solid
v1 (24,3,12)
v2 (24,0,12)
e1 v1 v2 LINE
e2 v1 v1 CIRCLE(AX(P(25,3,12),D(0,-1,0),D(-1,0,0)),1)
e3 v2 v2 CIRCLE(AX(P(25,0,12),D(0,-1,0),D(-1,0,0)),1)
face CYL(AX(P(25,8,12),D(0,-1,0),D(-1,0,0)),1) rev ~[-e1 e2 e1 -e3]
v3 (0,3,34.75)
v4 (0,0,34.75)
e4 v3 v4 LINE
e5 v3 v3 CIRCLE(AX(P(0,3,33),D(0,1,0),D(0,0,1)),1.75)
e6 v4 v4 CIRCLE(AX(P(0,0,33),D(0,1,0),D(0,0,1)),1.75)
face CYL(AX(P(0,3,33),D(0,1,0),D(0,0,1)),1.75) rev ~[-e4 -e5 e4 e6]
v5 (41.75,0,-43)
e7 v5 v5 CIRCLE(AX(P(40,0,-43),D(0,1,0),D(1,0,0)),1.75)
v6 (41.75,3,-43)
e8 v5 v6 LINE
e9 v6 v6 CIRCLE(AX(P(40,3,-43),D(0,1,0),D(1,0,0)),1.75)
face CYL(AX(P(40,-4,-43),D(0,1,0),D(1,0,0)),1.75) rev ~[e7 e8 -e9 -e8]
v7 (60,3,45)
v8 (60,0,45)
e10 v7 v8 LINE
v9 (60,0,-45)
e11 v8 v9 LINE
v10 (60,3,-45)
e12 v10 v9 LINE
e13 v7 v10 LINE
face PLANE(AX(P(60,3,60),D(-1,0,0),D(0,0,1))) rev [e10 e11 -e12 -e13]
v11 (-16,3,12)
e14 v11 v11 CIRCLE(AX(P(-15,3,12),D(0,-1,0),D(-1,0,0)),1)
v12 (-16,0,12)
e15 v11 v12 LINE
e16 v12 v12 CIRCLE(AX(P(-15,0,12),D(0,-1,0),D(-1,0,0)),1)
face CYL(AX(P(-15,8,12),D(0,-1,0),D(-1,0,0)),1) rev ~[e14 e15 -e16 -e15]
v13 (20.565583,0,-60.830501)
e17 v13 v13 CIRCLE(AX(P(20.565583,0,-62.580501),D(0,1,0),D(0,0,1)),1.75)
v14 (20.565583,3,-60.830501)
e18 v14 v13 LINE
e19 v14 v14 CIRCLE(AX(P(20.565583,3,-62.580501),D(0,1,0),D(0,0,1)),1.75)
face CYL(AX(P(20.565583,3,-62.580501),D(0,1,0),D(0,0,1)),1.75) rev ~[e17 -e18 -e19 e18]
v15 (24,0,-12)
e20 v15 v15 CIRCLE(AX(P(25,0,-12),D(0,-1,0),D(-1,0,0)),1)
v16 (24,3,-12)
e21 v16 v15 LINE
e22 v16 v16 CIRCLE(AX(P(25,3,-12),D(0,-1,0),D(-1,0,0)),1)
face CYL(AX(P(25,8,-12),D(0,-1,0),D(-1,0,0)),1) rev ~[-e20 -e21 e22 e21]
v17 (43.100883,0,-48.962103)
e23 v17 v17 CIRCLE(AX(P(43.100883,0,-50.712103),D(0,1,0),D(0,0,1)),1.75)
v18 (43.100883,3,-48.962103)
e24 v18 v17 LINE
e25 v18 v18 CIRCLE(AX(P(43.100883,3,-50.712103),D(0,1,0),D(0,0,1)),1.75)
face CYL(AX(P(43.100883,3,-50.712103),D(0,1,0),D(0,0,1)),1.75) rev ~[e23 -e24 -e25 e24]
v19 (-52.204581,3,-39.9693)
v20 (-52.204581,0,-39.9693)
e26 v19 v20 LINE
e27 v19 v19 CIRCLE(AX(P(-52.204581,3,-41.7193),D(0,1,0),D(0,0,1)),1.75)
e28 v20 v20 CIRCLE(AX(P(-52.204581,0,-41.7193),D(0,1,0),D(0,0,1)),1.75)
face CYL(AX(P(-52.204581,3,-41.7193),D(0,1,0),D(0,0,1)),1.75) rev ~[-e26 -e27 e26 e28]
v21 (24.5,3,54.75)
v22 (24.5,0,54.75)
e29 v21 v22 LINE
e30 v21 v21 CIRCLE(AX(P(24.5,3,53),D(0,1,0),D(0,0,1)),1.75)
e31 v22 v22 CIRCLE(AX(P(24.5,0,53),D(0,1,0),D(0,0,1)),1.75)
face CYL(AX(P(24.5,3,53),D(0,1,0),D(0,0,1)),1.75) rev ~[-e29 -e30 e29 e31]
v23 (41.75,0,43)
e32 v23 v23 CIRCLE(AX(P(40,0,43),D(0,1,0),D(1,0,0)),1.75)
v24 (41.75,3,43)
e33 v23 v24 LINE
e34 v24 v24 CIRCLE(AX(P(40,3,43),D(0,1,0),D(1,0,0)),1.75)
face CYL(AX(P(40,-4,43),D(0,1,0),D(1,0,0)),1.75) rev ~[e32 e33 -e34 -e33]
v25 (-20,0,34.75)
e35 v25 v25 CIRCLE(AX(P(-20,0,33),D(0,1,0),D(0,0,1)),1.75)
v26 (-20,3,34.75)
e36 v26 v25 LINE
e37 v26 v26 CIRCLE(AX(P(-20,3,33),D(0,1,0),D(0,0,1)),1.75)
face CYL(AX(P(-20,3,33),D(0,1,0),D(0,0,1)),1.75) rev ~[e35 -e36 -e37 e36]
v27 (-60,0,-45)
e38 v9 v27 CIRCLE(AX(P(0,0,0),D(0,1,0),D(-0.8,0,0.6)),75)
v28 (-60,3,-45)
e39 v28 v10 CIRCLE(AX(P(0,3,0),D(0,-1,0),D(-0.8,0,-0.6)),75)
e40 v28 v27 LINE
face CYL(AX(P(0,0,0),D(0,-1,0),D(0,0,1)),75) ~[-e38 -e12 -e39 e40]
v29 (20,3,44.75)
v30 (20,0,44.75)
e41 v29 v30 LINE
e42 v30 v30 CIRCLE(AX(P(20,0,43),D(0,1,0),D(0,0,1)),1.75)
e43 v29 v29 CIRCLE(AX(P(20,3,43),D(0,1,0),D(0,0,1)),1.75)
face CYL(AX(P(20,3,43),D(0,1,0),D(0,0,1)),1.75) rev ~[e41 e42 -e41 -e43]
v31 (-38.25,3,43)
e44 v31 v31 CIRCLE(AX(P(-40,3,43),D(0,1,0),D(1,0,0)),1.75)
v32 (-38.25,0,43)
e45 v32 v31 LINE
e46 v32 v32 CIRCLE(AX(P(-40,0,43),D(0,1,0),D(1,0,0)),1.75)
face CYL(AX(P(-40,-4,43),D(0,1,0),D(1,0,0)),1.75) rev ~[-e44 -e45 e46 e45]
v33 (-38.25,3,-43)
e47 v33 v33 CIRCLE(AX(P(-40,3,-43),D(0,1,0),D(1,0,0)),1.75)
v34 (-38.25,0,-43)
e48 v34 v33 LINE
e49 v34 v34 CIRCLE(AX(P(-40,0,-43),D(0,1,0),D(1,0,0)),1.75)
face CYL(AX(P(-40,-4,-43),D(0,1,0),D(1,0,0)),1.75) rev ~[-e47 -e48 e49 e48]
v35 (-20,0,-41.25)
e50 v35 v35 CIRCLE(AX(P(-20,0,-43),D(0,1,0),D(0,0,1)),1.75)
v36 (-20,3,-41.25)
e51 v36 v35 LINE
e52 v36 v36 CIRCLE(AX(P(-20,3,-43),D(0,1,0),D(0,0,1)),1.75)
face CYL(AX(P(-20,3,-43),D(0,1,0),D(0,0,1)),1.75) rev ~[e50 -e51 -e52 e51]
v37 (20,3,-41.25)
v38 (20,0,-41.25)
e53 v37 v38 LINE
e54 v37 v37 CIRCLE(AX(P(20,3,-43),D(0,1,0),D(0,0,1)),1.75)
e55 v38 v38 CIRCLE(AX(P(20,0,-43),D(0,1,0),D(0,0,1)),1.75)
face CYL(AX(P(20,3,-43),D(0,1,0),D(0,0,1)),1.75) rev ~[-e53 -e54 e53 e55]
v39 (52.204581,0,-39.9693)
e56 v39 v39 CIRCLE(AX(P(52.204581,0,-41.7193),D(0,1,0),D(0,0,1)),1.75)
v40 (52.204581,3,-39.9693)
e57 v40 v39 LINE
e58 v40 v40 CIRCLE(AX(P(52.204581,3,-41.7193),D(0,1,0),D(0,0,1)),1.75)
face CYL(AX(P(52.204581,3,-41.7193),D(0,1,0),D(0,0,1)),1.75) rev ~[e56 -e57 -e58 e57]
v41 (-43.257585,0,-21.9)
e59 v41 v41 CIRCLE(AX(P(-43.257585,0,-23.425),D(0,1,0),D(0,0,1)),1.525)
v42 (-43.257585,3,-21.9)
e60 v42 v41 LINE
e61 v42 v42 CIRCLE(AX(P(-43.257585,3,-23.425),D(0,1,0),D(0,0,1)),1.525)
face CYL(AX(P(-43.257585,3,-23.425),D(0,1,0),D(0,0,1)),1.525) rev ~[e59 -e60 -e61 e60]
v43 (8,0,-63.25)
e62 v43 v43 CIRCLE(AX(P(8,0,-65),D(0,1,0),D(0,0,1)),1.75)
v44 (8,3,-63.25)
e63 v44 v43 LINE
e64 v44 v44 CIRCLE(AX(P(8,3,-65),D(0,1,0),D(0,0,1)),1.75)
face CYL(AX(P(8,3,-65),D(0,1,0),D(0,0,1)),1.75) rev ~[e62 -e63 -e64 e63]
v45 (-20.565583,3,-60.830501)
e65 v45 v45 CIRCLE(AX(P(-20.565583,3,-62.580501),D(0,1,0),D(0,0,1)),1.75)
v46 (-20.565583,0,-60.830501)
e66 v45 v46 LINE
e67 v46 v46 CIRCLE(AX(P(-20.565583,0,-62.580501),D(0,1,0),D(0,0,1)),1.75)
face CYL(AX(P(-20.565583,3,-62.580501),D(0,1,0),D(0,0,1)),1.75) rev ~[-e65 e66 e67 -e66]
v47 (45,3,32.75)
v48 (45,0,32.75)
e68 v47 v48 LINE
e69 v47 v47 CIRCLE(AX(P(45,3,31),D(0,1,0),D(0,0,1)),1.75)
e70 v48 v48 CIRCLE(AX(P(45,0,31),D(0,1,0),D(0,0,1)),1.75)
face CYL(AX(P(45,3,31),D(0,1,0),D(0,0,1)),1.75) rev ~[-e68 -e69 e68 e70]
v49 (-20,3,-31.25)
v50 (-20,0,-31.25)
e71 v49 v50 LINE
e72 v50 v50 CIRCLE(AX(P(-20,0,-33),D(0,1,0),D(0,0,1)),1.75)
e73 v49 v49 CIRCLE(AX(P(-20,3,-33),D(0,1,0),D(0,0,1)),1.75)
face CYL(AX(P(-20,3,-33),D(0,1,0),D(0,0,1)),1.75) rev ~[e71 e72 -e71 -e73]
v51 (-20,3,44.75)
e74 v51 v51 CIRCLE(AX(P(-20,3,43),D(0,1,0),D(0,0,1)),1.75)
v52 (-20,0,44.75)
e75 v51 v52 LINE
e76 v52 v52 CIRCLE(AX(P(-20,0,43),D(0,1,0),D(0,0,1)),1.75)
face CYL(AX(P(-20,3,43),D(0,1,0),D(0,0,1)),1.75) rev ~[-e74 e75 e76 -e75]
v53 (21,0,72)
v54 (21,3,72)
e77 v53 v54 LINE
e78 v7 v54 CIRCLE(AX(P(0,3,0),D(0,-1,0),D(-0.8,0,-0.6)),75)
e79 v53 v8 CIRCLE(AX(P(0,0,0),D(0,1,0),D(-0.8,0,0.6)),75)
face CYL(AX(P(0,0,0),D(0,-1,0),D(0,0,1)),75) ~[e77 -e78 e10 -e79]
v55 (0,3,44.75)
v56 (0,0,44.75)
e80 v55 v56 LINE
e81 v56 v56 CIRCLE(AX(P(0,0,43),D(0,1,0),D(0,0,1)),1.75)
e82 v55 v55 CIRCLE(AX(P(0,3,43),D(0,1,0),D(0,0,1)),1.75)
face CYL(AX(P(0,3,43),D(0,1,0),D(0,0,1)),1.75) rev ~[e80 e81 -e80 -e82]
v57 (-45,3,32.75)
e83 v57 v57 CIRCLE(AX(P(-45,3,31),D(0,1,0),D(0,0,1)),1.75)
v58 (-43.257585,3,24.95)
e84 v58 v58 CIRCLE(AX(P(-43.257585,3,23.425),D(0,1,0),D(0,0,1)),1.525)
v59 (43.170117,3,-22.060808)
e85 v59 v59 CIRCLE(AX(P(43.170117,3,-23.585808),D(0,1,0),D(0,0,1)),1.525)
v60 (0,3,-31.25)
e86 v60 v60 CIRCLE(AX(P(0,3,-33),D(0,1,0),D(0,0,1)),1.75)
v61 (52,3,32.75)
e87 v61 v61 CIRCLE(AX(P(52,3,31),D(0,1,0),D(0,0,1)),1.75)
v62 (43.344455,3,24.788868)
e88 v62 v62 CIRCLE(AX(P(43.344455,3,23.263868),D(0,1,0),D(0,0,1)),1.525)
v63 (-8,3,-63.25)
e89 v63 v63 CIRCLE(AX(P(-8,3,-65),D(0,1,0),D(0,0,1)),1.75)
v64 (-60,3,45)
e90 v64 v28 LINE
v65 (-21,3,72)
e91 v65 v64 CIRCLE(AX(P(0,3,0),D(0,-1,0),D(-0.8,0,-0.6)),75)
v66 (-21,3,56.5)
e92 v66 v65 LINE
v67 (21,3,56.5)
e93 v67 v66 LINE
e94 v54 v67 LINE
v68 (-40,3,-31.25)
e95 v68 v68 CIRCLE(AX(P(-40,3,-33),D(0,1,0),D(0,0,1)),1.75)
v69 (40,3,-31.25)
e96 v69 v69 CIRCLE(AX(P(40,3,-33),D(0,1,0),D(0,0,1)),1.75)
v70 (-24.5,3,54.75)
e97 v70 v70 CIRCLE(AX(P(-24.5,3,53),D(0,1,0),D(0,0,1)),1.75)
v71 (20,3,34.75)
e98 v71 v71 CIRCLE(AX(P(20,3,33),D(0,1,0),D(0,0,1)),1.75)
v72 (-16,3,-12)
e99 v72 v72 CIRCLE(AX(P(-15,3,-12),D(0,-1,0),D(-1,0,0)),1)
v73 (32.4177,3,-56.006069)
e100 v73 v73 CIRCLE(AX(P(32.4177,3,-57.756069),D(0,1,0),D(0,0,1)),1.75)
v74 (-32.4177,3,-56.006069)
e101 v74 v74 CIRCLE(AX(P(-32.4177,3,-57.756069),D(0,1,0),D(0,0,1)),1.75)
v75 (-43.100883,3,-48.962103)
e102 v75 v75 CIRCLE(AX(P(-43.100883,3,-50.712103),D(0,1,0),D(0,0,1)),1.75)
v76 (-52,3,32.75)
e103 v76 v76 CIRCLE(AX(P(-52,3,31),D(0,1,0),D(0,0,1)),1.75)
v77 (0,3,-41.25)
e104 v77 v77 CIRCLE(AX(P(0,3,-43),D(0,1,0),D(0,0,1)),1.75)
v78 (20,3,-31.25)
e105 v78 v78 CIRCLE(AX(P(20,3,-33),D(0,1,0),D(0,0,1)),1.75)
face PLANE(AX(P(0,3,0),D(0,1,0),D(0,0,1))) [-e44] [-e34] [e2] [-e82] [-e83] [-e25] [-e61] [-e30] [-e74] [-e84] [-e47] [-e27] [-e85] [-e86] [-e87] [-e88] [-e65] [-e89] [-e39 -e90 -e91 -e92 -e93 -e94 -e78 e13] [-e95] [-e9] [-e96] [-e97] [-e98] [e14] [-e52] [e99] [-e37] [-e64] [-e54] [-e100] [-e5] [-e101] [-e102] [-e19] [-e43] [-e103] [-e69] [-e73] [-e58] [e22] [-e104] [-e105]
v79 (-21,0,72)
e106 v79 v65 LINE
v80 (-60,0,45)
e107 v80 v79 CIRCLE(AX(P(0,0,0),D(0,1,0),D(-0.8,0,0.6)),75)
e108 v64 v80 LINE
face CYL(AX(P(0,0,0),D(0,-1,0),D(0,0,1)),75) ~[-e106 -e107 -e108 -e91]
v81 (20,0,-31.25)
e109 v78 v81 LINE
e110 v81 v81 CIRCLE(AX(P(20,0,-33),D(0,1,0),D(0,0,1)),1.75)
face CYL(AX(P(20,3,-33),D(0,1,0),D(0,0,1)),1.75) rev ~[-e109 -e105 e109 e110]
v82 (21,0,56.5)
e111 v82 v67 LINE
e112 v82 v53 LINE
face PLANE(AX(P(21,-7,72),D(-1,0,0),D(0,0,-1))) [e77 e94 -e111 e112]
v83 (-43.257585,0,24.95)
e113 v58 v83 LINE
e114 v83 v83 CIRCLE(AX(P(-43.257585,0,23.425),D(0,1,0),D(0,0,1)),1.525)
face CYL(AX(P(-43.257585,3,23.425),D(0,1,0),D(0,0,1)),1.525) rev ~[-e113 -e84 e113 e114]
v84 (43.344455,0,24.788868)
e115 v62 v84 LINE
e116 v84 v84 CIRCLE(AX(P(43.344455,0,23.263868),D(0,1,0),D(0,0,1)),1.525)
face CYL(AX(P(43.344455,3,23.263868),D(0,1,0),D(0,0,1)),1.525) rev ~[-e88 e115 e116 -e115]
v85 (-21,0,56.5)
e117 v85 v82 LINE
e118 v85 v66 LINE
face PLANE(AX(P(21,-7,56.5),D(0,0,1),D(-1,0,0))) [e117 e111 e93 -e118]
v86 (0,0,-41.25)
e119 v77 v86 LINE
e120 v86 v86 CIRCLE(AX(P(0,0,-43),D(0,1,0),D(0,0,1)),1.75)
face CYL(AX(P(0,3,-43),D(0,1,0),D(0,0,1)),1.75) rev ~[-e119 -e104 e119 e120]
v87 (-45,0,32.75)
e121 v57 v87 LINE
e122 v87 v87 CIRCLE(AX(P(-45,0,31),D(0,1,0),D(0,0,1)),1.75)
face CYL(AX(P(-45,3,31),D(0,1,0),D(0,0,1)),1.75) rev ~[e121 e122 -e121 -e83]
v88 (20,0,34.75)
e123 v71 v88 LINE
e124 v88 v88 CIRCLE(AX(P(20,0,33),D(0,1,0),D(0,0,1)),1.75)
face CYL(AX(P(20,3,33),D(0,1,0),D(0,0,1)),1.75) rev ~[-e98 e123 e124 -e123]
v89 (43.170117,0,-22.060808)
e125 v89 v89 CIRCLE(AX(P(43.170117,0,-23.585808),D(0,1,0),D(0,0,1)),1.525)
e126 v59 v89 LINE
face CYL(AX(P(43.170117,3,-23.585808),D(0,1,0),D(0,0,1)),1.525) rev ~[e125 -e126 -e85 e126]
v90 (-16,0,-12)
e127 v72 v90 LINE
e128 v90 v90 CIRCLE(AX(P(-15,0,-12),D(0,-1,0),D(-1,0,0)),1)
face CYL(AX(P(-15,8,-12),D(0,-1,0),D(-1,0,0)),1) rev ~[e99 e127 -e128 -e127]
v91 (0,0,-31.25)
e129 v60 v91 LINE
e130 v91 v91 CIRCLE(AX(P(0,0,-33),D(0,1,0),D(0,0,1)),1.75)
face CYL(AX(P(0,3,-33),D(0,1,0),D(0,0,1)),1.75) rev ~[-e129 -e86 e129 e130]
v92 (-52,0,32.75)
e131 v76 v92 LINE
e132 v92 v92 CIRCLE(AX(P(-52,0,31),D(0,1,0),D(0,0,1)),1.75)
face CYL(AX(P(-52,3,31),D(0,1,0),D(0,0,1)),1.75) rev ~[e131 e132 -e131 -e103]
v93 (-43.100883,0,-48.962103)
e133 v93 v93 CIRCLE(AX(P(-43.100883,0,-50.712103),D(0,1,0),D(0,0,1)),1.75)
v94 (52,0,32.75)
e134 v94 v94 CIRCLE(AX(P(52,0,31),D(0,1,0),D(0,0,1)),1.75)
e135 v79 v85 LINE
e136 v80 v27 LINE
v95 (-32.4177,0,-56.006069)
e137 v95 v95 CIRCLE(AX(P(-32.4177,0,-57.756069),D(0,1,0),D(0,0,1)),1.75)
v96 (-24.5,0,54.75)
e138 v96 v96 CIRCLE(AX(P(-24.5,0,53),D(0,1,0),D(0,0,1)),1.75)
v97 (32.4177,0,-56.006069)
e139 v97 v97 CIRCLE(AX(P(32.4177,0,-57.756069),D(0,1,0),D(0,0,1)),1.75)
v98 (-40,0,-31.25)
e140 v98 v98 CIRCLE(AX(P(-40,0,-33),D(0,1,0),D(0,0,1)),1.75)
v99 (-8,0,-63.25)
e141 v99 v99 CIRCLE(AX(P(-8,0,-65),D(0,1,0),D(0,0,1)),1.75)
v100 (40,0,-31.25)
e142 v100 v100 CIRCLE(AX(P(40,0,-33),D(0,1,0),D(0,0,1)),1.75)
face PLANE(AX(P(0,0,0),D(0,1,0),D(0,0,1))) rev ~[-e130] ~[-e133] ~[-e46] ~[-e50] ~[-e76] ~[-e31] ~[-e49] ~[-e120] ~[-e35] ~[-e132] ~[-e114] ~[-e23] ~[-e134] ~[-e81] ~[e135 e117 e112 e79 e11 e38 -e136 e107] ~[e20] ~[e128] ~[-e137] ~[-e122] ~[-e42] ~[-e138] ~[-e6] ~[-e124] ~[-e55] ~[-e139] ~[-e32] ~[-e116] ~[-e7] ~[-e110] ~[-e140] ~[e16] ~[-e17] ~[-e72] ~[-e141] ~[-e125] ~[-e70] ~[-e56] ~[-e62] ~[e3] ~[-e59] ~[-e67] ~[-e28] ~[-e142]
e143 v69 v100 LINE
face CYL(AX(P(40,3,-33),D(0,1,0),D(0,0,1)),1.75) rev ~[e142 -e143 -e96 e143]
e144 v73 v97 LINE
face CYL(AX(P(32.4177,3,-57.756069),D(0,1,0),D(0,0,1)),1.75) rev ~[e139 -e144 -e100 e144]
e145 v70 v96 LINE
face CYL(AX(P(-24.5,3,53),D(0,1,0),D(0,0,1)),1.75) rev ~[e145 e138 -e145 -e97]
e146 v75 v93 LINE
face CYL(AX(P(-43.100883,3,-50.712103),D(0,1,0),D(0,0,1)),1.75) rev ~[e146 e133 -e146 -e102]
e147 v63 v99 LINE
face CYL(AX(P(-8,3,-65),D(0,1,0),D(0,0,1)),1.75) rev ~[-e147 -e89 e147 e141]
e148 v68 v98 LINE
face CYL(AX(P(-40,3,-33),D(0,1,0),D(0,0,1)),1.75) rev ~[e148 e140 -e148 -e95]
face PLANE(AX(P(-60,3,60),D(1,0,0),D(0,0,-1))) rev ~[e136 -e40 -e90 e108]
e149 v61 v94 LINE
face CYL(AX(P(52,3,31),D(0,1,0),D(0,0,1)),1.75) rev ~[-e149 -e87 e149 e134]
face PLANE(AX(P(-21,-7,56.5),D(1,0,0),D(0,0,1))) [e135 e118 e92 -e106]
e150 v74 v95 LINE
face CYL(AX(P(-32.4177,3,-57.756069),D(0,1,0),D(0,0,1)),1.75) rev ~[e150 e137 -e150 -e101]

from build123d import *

# Parameters (mm, degrees)
SKETCH1_R                      = 75
BOSS_EXTRUDE1_DEPTH            = 3
SKETCH2_W                      = 19.192652792
SKETCH2_H                      = 120
CUT_EXTRUDE1_DEPTH             = 4
F_3_5_3_5_DIAMETER_HOLE1_D     = 3.5
F_3_5_3_5_DIAMETER_HOLE1_DEPTH = 4
F_3_5_3_5_DIAMETER_HOLE1_TIP   = 1.051506083
F_2_0_2_DIAMETER_HOLE1_D       = 2
F_2_0_2_DIAMETER_HOLE1_DEPTH   = 5
F_2_0_2_DIAMETER_HOLE1_TIP     = 0.600860619
CUT_EXTRUDE2_START             = -10
CUT_EXTRUDE2_DEPTH             = 10
SKETCH18_R                     = 1.525
CUT_EXTRUDE3_DEPTH             = 10
SKETCH19_R                     = 1.75
CUT_EXTRUDE4_DEPTH             = 10
CUT_EXTRUDE5_REACH             = 98.094
SKETCH21_R                     = 1.75


with BuildPart() as part:
    # Sketch1 → Boss-Extrude1 (new body)
    with BuildSketch(Plane(origin=(0, 0, 0), x_dir=(1, 0, 0), z_dir=(0, 1, 0))):
        with Locations(Location((0, 0, 0), (0, 0, 270))):
            Circle(SKETCH1_R)
    extrude(amount=BOSS_EXTRUDE1_DEPTH)

    # Sketch2 → Cut-Extrude1 (cut)
    with BuildSketch(Plane(origin=(0, 3, 0), x_dir=(1, 0, 0), z_dir=(0, 1, 0))):
        with Locations((-69.596326396, 0)):
            Rectangle(SKETCH2_W, SKETCH2_H)
    cut_extrude1 = extrude(amount=-CUT_EXTRUDE1_DEPTH, mode=Mode.SUBTRACT)

    # Mirror1: Cut-Extrude1 across plane
    add(cut_extrude1.mirror(Plane(origin=(0, 0, 0), x_dir=(0, 0, 1), z_dir=(1, 0, 0))), mode=Mode.SUBTRACT)

    # Ø3.5 (3.5) Diameter Hole1
    with Locations(Plane(origin=(0, 0, 0), x_dir=(-1, 0, 0), z_dir=(0, -1, 0))):
        with Locations((40, -43), (-40, -43), (-40, 43), (40, 43)):
            Hole(F_3_5_3_5_DIAMETER_HOLE1_D / 2, depth=F_3_5_3_5_DIAMETER_HOLE1_DEPTH)
            with Locations((0, 0, -(F_3_5_3_5_DIAMETER_HOLE1_DEPTH + F_3_5_3_5_DIAMETER_HOLE1_TIP / 2))):  # 118° drill point
                Cone(0, F_3_5_3_5_DIAMETER_HOLE1_D / 2, F_3_5_3_5_DIAMETER_HOLE1_TIP, mode=Mode.SUBTRACT)

    # Ø2.0 (2) Diameter Hole1
    with Locations(Plane(origin=(0, 3, 0), x_dir=(1, 0, 0), z_dir=(0, 1, 0))):
        with Locations((25, -12), (25, 12), (-15, 12), (-15, -12)):
            Hole(F_2_0_2_DIAMETER_HOLE1_D / 2, depth=F_2_0_2_DIAMETER_HOLE1_DEPTH)
            with Locations((0, 0, -(F_2_0_2_DIAMETER_HOLE1_DEPTH + F_2_0_2_DIAMETER_HOLE1_TIP / 2))):  # 118° drill point
                Cone(0, F_2_0_2_DIAMETER_HOLE1_D / 2, F_2_0_2_DIAMETER_HOLE1_TIP, mode=Mode.SUBTRACT)

    # Sketch15 → Cut-Extrude2 (cut)
    with BuildSketch(Plane(origin=(0, 3, 0), x_dir=(1, 0, 0), z_dir=(0, 1, 0)).offset(CUT_EXTRUDE2_START)):
        with BuildLine():
            ThreePointArc((-21, -72), (0, -75), (21, -72))
            Line((21, -72), (21, -56.5))
            Line((21, -56.5), (-21, -56.5))
            Line((-21, -56.5), (-21, -72))
        make_face()
    extrude(amount=CUT_EXTRUDE2_DEPTH, mode=Mode.SUBTRACT)

    # Sketch18 → Cut-Extrude3 (cut)
    with BuildSketch(Plane(origin=(0, 3, 0), x_dir=(1, 0, 0), z_dir=(0, 1, 0))):
        with Locations(Location((-43.257585448, 23.425, 0), (0, 0, 270))):
            Circle(SKETCH18_R)
        with Locations(Location((-43.257585448, -23.425, 0), (0, 0, 270))):
            Circle(SKETCH18_R)
        with Locations(Location((43.170117025, 23.585807594, 0), (0, 0, 270))):
            Circle(SKETCH18_R)
        with Locations(Location((43.34445487, -23.263868032, 0), (0, 0, 270))):
            Circle(SKETCH18_R)
    extrude(amount=-CUT_EXTRUDE3_DEPTH, mode=Mode.SUBTRACT)

    # Sketch19 → Cut-Extrude4 (cut)
    with BuildSketch(Plane(origin=(0, 3, 0), x_dir=(1, 0, 0), z_dir=(0, 1, 0))):
        with Locations(Location((-32.417700299, 57.756069019, 0), (0, 0, 270))):
            Circle(SKETCH19_R)
        with Locations(Location((-20.565582613, 62.580501294, 0), (0, 0, 270))):
            Circle(SKETCH19_R)
        with Locations(Location((-8, 65, 0), (0, 0, 270))):
            Circle(SKETCH19_R)
        with Locations(Location((8, 65, 0), (0, 0, 270))):
            Circle(SKETCH19_R)
        with Locations(Location((20.565582613, 62.580501294, 0), (0, 0, 270))):
            Circle(SKETCH19_R)
        with Locations(Location((32.417700299, 57.756069019, 0), (0, 0, 270))):
            Circle(SKETCH19_R)
        with Locations(Location((43.10088282, 50.712103402, 0), (0, 0, 270))):
            Circle(SKETCH19_R)
        with Locations(Location((-52.204581464, 41.71930009, 0), (0, 0, 270))):
            Circle(SKETCH19_R)
        with Locations(Location((-43.10088282, 50.712103402, 0), (0, 0, 270))):
            Circle(SKETCH19_R)
        with Locations(Location((52.204581464, 41.71930009, 0), (0, 0, 270))):
            Circle(SKETCH19_R)
    extrude(amount=-CUT_EXTRUDE4_DEPTH, mode=Mode.SUBTRACT)

    # Sketch21 → Cut-Extrude5 (cut, up to next)
    with BuildSketch(Plane(origin=(0, 3, 0), x_dir=(1, 0, 0), z_dir=(0, 1, 0)), mode=Mode.PRIVATE) as cut_extrude5_sk1:
        with Locations(Location((-52, -31, 0), (0, 0, 270))):
            Circle(SKETCH21_R)
    cut_extrude5_tool1 = extrude(cut_extrude5_sk1.sketch, amount=-CUT_EXTRUDE5_REACH, mode=Mode.PRIVATE) & part.part
    # Sketch21 → Cut-Extrude5 (cut, up to next)
    with BuildSketch(Plane(origin=(0, 3, 0), x_dir=(1, 0, 0), z_dir=(0, 1, 0)), mode=Mode.PRIVATE) as cut_extrude5_sk2:
        with Locations(Location((-24.5, -53, 0), (0, 0, 270))):
            Circle(SKETCH21_R)
    cut_extrude5_tool2 = extrude(cut_extrude5_sk2.sketch, amount=-CUT_EXTRUDE5_REACH, mode=Mode.PRIVATE) & part.part
    # Sketch21 → Cut-Extrude5 (cut, up to next)
    with BuildSketch(Plane(origin=(0, 3, 0), x_dir=(1, 0, 0), z_dir=(0, 1, 0)), mode=Mode.PRIVATE) as cut_extrude5_sk3:
        with Locations(Location((-20, -43, 0), (0, 0, 270))):
            Circle(SKETCH21_R)
    cut_extrude5_tool3 = extrude(cut_extrude5_sk3.sketch, amount=-CUT_EXTRUDE5_REACH, mode=Mode.PRIVATE) & part.part
    # Sketch21 → Cut-Extrude5 (cut, up to next)
    with BuildSketch(Plane(origin=(0, 3, 0), x_dir=(1, 0, 0), z_dir=(0, 1, 0)), mode=Mode.PRIVATE) as cut_extrude5_sk4:
        with Locations(Location((0, -43, 0), (0, 0, 270))):
            Circle(SKETCH21_R)
    cut_extrude5_tool4 = extrude(cut_extrude5_sk4.sketch, amount=-CUT_EXTRUDE5_REACH, mode=Mode.PRIVATE) & part.part
    # Sketch21 → Cut-Extrude5 (cut, up to next)
    with BuildSketch(Plane(origin=(0, 3, 0), x_dir=(1, 0, 0), z_dir=(0, 1, 0)), mode=Mode.PRIVATE) as cut_extrude5_sk5:
        with Locations(Location((20, -43, 0), (0, 0, 270))):
            Circle(SKETCH21_R)
    cut_extrude5_tool5 = extrude(cut_extrude5_sk5.sketch, amount=-CUT_EXTRUDE5_REACH, mode=Mode.PRIVATE) & part.part
    # Sketch21 → Cut-Extrude5 (cut, up to next)
    with BuildSketch(Plane(origin=(0, 3, 0), x_dir=(1, 0, 0), z_dir=(0, 1, 0)), mode=Mode.PRIVATE) as cut_extrude5_sk6:
        with Locations(Location((24.5, -53, 0), (0, 0, 270))):
            Circle(SKETCH21_R)
    cut_extrude5_tool6 = extrude(cut_extrude5_sk6.sketch, amount=-CUT_EXTRUDE5_REACH, mode=Mode.PRIVATE) & part.part
    # Sketch21 → Cut-Extrude5 (cut, up to next)
    with BuildSketch(Plane(origin=(0, 3, 0), x_dir=(1, 0, 0), z_dir=(0, 1, 0)), mode=Mode.PRIVATE) as cut_extrude5_sk7:
        with Locations(Location((45, -31, 0), (0, 0, 270))):
            Circle(SKETCH21_R)
    cut_extrude5_tool7 = extrude(cut_extrude5_sk7.sketch, amount=-CUT_EXTRUDE5_REACH, mode=Mode.PRIVATE) & part.part
    # Sketch21 → Cut-Extrude5 (cut, up to next)
    with BuildSketch(Plane(origin=(0, 3, 0), x_dir=(1, 0, 0), z_dir=(0, 1, 0)), mode=Mode.PRIVATE) as cut_extrude5_sk8:
        with Locations(Location((52, -31, 0), (0, 0, 270))):
            Circle(SKETCH21_R)
    cut_extrude5_tool8 = extrude(cut_extrude5_sk8.sketch, amount=-CUT_EXTRUDE5_REACH, mode=Mode.PRIVATE) & part.part
    # Sketch21 → Cut-Extrude5 (cut, up to next)
    with BuildSketch(Plane(origin=(0, 3, 0), x_dir=(1, 0, 0), z_dir=(0, 1, 0)), mode=Mode.PRIVATE) as cut_extrude5_sk9:
        with Locations(Location((20, 43, 0), (0, 0, 270))):
            Circle(SKETCH21_R)
    cut_extrude5_tool9 = extrude(cut_extrude5_sk9.sketch, amount=-CUT_EXTRUDE5_REACH, mode=Mode.PRIVATE) & part.part
    # Sketch21 → Cut-Extrude5 (cut, up to next)
    with BuildSketch(Plane(origin=(0, 3, 0), x_dir=(1, 0, 0), z_dir=(0, 1, 0)), mode=Mode.PRIVATE) as cut_extrude5_sk10:
        with Locations(Location((0, 43, 0), (0, 0, 270))):
            Circle(SKETCH21_R)
    cut_extrude5_tool10 = extrude(cut_extrude5_sk10.sketch, amount=-CUT_EXTRUDE5_REACH, mode=Mode.PRIVATE) & part.part
    # Sketch21 → Cut-Extrude5 (cut, up to next)
    with BuildSketch(Plane(origin=(0, 3, 0), x_dir=(1, 0, 0), z_dir=(0, 1, 0)), mode=Mode.PRIVATE) as cut_extrude5_sk11:
        with Locations(Location((-45, -31, 0), (0, 0, 270))):
            Circle(SKETCH21_R)
    cut_extrude5_tool11 = extrude(cut_extrude5_sk11.sketch, amount=-CUT_EXTRUDE5_REACH, mode=Mode.PRIVATE) & part.part
    # Sketch21 → Cut-Extrude5 (cut, up to next)
    with BuildSketch(Plane(origin=(0, 3, 0), x_dir=(1, 0, 0), z_dir=(0, 1, 0)), mode=Mode.PRIVATE) as cut_extrude5_sk12:
        with Locations(Location((-20, 43, 0), (0, 0, 270))):
            Circle(SKETCH21_R)
    cut_extrude5_tool12 = extrude(cut_extrude5_sk12.sketch, amount=-CUT_EXTRUDE5_REACH, mode=Mode.PRIVATE) & part.part
    # Sketch21 → Cut-Extrude5 (cut, up to next)
    with BuildSketch(Plane(origin=(0, 3, 0), x_dir=(1, 0, 0), z_dir=(0, 1, 0)), mode=Mode.PRIVATE) as cut_extrude5_sk13:
        with Locations(Location((-20, -33, 0), (0, 0, 270))):
            Circle(SKETCH21_R)
    cut_extrude5_tool13 = extrude(cut_extrude5_sk13.sketch, amount=-CUT_EXTRUDE5_REACH, mode=Mode.PRIVATE) & part.part
    # Sketch21 → Cut-Extrude5 (cut, up to next)
    with BuildSketch(Plane(origin=(0, 3, 0), x_dir=(1, 0, 0), z_dir=(0, 1, 0)), mode=Mode.PRIVATE) as cut_extrude5_sk14:
        with Locations(Location((0, -33, 0), (0, 0, 270))):
            Circle(SKETCH21_R)
    cut_extrude5_tool14 = extrude(cut_extrude5_sk14.sketch, amount=-CUT_EXTRUDE5_REACH, mode=Mode.PRIVATE) & part.part
    # Sketch21 → Cut-Extrude5 (cut, up to next)
    with BuildSketch(Plane(origin=(0, 3, 0), x_dir=(1, 0, 0), z_dir=(0, 1, 0)), mode=Mode.PRIVATE) as cut_extrude5_sk15:
        with Locations(Location((20, -33, 0), (0, 0, 270))):
            Circle(SKETCH21_R)
    cut_extrude5_tool15 = extrude(cut_extrude5_sk15.sketch, amount=-CUT_EXTRUDE5_REACH, mode=Mode.PRIVATE) & part.part
    # Sketch21 → Cut-Extrude5 (cut, up to next)
    with BuildSketch(Plane(origin=(0, 3, 0), x_dir=(1, 0, 0), z_dir=(0, 1, 0)), mode=Mode.PRIVATE) as cut_extrude5_sk16:
        with Locations(Location((-40, 33, 0), (0, 0, 270))):
            Circle(SKETCH21_R)
    cut_extrude5_tool16 = extrude(cut_extrude5_sk16.sketch, amount=-CUT_EXTRUDE5_REACH, mode=Mode.PRIVATE) & part.part
    # Sketch21 → Cut-Extrude5 (cut, up to next)
    with BuildSketch(Plane(origin=(0, 3, 0), x_dir=(1, 0, 0), z_dir=(0, 1, 0)), mode=Mode.PRIVATE) as cut_extrude5_sk17:
        with Locations(Location((-20, 33, 0), (0, 0, 270))):
            Circle(SKETCH21_R)
    cut_extrude5_tool17 = extrude(cut_extrude5_sk17.sketch, amount=-CUT_EXTRUDE5_REACH, mode=Mode.PRIVATE) & part.part
    # Sketch21 → Cut-Extrude5 (cut, up to next)
    with BuildSketch(Plane(origin=(0, 3, 0), x_dir=(1, 0, 0), z_dir=(0, 1, 0)), mode=Mode.PRIVATE) as cut_extrude5_sk18:
        with Locations(Location((0, 33, 0), (0, 0, 270))):
            Circle(SKETCH21_R)
    cut_extrude5_tool18 = extrude(cut_extrude5_sk18.sketch, amount=-CUT_EXTRUDE5_REACH, mode=Mode.PRIVATE) & part.part
    # Sketch21 → Cut-Extrude5 (cut, up to next)
    with BuildSketch(Plane(origin=(0, 3, 0), x_dir=(1, 0, 0), z_dir=(0, 1, 0)), mode=Mode.PRIVATE) as cut_extrude5_sk19:
        with Locations(Location((20, 33, 0), (0, 0, 270))):
            Circle(SKETCH21_R)
    cut_extrude5_tool19 = extrude(cut_extrude5_sk19.sketch, amount=-CUT_EXTRUDE5_REACH, mode=Mode.PRIVATE) & part.part
    # Sketch21 → Cut-Extrude5 (cut, up to next)
    with BuildSketch(Plane(origin=(0, 3, 0), x_dir=(1, 0, 0), z_dir=(0, 1, 0)), mode=Mode.PRIVATE) as cut_extrude5_sk20:
        with Locations(Location((40, 33, 0), (0, 0, 270))):
            Circle(SKETCH21_R)
    cut_extrude5_tool20 = extrude(cut_extrude5_sk20.sketch, amount=-CUT_EXTRUDE5_REACH, mode=Mode.PRIVATE) & part.part
    add(cut_extrude5_tool1.solids().sort_by_distance((-52, 3, 31))[0], mode=Mode.SUBTRACT)
    add(cut_extrude5_tool2.solids().sort_by_distance((-24.5, 3, 53))[0], mode=Mode.SUBTRACT)
    add(cut_extrude5_tool3.solids().sort_by_distance((-20, 3, 43))[0], mode=Mode.SUBTRACT)
    add(cut_extrude5_tool4.solids().sort_by_distance((0, 3, 43))[0], mode=Mode.SUBTRACT)
    add(cut_extrude5_tool5.solids().sort_by_distance((20, 3, 43))[0], mode=Mode.SUBTRACT)
    add(cut_extrude5_tool6.solids().sort_by_distance((24.5, 3, 53))[0], mode=Mode.SUBTRACT)
    add(cut_extrude5_tool7.solids().sort_by_distance((45, 3, 31))[0], mode=Mode.SUBTRACT)
    add(cut_extrude5_tool8.solids().sort_by_distance((52, 3, 31))[0], mode=Mode.SUBTRACT)
    add(cut_extrude5_tool9.solids().sort_by_distance((20, 3, -43))[0], mode=Mode.SUBTRACT)
    add(cut_extrude5_tool10.solids().sort_by_distance((0, 3, -43))[0], mode=Mode.SUBTRACT)
    add(cut_extrude5_tool11.solids().sort_by_distance((-45, 3, 31))[0], mode=Mode.SUBTRACT)
    add(cut_extrude5_tool12.solids().sort_by_distance((-20, 3, -43))[0], mode=Mode.SUBTRACT)
    add(cut_extrude5_tool13.solids().sort_by_distance((-20, 3, 33))[0], mode=Mode.SUBTRACT)
    add(cut_extrude5_tool14.solids().sort_by_distance((0, 3, 33))[0], mode=Mode.SUBTRACT)
    add(cut_extrude5_tool15.solids().sort_by_distance((20, 3, 33))[0], mode=Mode.SUBTRACT)
    add(cut_extrude5_tool16.solids().sort_by_distance((-40, 3, -33))[0], mode=Mode.SUBTRACT)
    add(cut_extrude5_tool17.solids().sort_by_distance((-20, 3, -33))[0], mode=Mode.SUBTRACT)
    add(cut_extrude5_tool18.solids().sort_by_distance((0, 3, -33))[0], mode=Mode.SUBTRACT)
    add(cut_extrude5_tool19.solids().sort_by_distance((20, 3, -33))[0], mode=Mode.SUBTRACT)
    add(cut_extrude5_tool20.solids().sort_by_distance((40, 3, -33))[0], mode=Mode.SUBTRACT)


solid = part.part
